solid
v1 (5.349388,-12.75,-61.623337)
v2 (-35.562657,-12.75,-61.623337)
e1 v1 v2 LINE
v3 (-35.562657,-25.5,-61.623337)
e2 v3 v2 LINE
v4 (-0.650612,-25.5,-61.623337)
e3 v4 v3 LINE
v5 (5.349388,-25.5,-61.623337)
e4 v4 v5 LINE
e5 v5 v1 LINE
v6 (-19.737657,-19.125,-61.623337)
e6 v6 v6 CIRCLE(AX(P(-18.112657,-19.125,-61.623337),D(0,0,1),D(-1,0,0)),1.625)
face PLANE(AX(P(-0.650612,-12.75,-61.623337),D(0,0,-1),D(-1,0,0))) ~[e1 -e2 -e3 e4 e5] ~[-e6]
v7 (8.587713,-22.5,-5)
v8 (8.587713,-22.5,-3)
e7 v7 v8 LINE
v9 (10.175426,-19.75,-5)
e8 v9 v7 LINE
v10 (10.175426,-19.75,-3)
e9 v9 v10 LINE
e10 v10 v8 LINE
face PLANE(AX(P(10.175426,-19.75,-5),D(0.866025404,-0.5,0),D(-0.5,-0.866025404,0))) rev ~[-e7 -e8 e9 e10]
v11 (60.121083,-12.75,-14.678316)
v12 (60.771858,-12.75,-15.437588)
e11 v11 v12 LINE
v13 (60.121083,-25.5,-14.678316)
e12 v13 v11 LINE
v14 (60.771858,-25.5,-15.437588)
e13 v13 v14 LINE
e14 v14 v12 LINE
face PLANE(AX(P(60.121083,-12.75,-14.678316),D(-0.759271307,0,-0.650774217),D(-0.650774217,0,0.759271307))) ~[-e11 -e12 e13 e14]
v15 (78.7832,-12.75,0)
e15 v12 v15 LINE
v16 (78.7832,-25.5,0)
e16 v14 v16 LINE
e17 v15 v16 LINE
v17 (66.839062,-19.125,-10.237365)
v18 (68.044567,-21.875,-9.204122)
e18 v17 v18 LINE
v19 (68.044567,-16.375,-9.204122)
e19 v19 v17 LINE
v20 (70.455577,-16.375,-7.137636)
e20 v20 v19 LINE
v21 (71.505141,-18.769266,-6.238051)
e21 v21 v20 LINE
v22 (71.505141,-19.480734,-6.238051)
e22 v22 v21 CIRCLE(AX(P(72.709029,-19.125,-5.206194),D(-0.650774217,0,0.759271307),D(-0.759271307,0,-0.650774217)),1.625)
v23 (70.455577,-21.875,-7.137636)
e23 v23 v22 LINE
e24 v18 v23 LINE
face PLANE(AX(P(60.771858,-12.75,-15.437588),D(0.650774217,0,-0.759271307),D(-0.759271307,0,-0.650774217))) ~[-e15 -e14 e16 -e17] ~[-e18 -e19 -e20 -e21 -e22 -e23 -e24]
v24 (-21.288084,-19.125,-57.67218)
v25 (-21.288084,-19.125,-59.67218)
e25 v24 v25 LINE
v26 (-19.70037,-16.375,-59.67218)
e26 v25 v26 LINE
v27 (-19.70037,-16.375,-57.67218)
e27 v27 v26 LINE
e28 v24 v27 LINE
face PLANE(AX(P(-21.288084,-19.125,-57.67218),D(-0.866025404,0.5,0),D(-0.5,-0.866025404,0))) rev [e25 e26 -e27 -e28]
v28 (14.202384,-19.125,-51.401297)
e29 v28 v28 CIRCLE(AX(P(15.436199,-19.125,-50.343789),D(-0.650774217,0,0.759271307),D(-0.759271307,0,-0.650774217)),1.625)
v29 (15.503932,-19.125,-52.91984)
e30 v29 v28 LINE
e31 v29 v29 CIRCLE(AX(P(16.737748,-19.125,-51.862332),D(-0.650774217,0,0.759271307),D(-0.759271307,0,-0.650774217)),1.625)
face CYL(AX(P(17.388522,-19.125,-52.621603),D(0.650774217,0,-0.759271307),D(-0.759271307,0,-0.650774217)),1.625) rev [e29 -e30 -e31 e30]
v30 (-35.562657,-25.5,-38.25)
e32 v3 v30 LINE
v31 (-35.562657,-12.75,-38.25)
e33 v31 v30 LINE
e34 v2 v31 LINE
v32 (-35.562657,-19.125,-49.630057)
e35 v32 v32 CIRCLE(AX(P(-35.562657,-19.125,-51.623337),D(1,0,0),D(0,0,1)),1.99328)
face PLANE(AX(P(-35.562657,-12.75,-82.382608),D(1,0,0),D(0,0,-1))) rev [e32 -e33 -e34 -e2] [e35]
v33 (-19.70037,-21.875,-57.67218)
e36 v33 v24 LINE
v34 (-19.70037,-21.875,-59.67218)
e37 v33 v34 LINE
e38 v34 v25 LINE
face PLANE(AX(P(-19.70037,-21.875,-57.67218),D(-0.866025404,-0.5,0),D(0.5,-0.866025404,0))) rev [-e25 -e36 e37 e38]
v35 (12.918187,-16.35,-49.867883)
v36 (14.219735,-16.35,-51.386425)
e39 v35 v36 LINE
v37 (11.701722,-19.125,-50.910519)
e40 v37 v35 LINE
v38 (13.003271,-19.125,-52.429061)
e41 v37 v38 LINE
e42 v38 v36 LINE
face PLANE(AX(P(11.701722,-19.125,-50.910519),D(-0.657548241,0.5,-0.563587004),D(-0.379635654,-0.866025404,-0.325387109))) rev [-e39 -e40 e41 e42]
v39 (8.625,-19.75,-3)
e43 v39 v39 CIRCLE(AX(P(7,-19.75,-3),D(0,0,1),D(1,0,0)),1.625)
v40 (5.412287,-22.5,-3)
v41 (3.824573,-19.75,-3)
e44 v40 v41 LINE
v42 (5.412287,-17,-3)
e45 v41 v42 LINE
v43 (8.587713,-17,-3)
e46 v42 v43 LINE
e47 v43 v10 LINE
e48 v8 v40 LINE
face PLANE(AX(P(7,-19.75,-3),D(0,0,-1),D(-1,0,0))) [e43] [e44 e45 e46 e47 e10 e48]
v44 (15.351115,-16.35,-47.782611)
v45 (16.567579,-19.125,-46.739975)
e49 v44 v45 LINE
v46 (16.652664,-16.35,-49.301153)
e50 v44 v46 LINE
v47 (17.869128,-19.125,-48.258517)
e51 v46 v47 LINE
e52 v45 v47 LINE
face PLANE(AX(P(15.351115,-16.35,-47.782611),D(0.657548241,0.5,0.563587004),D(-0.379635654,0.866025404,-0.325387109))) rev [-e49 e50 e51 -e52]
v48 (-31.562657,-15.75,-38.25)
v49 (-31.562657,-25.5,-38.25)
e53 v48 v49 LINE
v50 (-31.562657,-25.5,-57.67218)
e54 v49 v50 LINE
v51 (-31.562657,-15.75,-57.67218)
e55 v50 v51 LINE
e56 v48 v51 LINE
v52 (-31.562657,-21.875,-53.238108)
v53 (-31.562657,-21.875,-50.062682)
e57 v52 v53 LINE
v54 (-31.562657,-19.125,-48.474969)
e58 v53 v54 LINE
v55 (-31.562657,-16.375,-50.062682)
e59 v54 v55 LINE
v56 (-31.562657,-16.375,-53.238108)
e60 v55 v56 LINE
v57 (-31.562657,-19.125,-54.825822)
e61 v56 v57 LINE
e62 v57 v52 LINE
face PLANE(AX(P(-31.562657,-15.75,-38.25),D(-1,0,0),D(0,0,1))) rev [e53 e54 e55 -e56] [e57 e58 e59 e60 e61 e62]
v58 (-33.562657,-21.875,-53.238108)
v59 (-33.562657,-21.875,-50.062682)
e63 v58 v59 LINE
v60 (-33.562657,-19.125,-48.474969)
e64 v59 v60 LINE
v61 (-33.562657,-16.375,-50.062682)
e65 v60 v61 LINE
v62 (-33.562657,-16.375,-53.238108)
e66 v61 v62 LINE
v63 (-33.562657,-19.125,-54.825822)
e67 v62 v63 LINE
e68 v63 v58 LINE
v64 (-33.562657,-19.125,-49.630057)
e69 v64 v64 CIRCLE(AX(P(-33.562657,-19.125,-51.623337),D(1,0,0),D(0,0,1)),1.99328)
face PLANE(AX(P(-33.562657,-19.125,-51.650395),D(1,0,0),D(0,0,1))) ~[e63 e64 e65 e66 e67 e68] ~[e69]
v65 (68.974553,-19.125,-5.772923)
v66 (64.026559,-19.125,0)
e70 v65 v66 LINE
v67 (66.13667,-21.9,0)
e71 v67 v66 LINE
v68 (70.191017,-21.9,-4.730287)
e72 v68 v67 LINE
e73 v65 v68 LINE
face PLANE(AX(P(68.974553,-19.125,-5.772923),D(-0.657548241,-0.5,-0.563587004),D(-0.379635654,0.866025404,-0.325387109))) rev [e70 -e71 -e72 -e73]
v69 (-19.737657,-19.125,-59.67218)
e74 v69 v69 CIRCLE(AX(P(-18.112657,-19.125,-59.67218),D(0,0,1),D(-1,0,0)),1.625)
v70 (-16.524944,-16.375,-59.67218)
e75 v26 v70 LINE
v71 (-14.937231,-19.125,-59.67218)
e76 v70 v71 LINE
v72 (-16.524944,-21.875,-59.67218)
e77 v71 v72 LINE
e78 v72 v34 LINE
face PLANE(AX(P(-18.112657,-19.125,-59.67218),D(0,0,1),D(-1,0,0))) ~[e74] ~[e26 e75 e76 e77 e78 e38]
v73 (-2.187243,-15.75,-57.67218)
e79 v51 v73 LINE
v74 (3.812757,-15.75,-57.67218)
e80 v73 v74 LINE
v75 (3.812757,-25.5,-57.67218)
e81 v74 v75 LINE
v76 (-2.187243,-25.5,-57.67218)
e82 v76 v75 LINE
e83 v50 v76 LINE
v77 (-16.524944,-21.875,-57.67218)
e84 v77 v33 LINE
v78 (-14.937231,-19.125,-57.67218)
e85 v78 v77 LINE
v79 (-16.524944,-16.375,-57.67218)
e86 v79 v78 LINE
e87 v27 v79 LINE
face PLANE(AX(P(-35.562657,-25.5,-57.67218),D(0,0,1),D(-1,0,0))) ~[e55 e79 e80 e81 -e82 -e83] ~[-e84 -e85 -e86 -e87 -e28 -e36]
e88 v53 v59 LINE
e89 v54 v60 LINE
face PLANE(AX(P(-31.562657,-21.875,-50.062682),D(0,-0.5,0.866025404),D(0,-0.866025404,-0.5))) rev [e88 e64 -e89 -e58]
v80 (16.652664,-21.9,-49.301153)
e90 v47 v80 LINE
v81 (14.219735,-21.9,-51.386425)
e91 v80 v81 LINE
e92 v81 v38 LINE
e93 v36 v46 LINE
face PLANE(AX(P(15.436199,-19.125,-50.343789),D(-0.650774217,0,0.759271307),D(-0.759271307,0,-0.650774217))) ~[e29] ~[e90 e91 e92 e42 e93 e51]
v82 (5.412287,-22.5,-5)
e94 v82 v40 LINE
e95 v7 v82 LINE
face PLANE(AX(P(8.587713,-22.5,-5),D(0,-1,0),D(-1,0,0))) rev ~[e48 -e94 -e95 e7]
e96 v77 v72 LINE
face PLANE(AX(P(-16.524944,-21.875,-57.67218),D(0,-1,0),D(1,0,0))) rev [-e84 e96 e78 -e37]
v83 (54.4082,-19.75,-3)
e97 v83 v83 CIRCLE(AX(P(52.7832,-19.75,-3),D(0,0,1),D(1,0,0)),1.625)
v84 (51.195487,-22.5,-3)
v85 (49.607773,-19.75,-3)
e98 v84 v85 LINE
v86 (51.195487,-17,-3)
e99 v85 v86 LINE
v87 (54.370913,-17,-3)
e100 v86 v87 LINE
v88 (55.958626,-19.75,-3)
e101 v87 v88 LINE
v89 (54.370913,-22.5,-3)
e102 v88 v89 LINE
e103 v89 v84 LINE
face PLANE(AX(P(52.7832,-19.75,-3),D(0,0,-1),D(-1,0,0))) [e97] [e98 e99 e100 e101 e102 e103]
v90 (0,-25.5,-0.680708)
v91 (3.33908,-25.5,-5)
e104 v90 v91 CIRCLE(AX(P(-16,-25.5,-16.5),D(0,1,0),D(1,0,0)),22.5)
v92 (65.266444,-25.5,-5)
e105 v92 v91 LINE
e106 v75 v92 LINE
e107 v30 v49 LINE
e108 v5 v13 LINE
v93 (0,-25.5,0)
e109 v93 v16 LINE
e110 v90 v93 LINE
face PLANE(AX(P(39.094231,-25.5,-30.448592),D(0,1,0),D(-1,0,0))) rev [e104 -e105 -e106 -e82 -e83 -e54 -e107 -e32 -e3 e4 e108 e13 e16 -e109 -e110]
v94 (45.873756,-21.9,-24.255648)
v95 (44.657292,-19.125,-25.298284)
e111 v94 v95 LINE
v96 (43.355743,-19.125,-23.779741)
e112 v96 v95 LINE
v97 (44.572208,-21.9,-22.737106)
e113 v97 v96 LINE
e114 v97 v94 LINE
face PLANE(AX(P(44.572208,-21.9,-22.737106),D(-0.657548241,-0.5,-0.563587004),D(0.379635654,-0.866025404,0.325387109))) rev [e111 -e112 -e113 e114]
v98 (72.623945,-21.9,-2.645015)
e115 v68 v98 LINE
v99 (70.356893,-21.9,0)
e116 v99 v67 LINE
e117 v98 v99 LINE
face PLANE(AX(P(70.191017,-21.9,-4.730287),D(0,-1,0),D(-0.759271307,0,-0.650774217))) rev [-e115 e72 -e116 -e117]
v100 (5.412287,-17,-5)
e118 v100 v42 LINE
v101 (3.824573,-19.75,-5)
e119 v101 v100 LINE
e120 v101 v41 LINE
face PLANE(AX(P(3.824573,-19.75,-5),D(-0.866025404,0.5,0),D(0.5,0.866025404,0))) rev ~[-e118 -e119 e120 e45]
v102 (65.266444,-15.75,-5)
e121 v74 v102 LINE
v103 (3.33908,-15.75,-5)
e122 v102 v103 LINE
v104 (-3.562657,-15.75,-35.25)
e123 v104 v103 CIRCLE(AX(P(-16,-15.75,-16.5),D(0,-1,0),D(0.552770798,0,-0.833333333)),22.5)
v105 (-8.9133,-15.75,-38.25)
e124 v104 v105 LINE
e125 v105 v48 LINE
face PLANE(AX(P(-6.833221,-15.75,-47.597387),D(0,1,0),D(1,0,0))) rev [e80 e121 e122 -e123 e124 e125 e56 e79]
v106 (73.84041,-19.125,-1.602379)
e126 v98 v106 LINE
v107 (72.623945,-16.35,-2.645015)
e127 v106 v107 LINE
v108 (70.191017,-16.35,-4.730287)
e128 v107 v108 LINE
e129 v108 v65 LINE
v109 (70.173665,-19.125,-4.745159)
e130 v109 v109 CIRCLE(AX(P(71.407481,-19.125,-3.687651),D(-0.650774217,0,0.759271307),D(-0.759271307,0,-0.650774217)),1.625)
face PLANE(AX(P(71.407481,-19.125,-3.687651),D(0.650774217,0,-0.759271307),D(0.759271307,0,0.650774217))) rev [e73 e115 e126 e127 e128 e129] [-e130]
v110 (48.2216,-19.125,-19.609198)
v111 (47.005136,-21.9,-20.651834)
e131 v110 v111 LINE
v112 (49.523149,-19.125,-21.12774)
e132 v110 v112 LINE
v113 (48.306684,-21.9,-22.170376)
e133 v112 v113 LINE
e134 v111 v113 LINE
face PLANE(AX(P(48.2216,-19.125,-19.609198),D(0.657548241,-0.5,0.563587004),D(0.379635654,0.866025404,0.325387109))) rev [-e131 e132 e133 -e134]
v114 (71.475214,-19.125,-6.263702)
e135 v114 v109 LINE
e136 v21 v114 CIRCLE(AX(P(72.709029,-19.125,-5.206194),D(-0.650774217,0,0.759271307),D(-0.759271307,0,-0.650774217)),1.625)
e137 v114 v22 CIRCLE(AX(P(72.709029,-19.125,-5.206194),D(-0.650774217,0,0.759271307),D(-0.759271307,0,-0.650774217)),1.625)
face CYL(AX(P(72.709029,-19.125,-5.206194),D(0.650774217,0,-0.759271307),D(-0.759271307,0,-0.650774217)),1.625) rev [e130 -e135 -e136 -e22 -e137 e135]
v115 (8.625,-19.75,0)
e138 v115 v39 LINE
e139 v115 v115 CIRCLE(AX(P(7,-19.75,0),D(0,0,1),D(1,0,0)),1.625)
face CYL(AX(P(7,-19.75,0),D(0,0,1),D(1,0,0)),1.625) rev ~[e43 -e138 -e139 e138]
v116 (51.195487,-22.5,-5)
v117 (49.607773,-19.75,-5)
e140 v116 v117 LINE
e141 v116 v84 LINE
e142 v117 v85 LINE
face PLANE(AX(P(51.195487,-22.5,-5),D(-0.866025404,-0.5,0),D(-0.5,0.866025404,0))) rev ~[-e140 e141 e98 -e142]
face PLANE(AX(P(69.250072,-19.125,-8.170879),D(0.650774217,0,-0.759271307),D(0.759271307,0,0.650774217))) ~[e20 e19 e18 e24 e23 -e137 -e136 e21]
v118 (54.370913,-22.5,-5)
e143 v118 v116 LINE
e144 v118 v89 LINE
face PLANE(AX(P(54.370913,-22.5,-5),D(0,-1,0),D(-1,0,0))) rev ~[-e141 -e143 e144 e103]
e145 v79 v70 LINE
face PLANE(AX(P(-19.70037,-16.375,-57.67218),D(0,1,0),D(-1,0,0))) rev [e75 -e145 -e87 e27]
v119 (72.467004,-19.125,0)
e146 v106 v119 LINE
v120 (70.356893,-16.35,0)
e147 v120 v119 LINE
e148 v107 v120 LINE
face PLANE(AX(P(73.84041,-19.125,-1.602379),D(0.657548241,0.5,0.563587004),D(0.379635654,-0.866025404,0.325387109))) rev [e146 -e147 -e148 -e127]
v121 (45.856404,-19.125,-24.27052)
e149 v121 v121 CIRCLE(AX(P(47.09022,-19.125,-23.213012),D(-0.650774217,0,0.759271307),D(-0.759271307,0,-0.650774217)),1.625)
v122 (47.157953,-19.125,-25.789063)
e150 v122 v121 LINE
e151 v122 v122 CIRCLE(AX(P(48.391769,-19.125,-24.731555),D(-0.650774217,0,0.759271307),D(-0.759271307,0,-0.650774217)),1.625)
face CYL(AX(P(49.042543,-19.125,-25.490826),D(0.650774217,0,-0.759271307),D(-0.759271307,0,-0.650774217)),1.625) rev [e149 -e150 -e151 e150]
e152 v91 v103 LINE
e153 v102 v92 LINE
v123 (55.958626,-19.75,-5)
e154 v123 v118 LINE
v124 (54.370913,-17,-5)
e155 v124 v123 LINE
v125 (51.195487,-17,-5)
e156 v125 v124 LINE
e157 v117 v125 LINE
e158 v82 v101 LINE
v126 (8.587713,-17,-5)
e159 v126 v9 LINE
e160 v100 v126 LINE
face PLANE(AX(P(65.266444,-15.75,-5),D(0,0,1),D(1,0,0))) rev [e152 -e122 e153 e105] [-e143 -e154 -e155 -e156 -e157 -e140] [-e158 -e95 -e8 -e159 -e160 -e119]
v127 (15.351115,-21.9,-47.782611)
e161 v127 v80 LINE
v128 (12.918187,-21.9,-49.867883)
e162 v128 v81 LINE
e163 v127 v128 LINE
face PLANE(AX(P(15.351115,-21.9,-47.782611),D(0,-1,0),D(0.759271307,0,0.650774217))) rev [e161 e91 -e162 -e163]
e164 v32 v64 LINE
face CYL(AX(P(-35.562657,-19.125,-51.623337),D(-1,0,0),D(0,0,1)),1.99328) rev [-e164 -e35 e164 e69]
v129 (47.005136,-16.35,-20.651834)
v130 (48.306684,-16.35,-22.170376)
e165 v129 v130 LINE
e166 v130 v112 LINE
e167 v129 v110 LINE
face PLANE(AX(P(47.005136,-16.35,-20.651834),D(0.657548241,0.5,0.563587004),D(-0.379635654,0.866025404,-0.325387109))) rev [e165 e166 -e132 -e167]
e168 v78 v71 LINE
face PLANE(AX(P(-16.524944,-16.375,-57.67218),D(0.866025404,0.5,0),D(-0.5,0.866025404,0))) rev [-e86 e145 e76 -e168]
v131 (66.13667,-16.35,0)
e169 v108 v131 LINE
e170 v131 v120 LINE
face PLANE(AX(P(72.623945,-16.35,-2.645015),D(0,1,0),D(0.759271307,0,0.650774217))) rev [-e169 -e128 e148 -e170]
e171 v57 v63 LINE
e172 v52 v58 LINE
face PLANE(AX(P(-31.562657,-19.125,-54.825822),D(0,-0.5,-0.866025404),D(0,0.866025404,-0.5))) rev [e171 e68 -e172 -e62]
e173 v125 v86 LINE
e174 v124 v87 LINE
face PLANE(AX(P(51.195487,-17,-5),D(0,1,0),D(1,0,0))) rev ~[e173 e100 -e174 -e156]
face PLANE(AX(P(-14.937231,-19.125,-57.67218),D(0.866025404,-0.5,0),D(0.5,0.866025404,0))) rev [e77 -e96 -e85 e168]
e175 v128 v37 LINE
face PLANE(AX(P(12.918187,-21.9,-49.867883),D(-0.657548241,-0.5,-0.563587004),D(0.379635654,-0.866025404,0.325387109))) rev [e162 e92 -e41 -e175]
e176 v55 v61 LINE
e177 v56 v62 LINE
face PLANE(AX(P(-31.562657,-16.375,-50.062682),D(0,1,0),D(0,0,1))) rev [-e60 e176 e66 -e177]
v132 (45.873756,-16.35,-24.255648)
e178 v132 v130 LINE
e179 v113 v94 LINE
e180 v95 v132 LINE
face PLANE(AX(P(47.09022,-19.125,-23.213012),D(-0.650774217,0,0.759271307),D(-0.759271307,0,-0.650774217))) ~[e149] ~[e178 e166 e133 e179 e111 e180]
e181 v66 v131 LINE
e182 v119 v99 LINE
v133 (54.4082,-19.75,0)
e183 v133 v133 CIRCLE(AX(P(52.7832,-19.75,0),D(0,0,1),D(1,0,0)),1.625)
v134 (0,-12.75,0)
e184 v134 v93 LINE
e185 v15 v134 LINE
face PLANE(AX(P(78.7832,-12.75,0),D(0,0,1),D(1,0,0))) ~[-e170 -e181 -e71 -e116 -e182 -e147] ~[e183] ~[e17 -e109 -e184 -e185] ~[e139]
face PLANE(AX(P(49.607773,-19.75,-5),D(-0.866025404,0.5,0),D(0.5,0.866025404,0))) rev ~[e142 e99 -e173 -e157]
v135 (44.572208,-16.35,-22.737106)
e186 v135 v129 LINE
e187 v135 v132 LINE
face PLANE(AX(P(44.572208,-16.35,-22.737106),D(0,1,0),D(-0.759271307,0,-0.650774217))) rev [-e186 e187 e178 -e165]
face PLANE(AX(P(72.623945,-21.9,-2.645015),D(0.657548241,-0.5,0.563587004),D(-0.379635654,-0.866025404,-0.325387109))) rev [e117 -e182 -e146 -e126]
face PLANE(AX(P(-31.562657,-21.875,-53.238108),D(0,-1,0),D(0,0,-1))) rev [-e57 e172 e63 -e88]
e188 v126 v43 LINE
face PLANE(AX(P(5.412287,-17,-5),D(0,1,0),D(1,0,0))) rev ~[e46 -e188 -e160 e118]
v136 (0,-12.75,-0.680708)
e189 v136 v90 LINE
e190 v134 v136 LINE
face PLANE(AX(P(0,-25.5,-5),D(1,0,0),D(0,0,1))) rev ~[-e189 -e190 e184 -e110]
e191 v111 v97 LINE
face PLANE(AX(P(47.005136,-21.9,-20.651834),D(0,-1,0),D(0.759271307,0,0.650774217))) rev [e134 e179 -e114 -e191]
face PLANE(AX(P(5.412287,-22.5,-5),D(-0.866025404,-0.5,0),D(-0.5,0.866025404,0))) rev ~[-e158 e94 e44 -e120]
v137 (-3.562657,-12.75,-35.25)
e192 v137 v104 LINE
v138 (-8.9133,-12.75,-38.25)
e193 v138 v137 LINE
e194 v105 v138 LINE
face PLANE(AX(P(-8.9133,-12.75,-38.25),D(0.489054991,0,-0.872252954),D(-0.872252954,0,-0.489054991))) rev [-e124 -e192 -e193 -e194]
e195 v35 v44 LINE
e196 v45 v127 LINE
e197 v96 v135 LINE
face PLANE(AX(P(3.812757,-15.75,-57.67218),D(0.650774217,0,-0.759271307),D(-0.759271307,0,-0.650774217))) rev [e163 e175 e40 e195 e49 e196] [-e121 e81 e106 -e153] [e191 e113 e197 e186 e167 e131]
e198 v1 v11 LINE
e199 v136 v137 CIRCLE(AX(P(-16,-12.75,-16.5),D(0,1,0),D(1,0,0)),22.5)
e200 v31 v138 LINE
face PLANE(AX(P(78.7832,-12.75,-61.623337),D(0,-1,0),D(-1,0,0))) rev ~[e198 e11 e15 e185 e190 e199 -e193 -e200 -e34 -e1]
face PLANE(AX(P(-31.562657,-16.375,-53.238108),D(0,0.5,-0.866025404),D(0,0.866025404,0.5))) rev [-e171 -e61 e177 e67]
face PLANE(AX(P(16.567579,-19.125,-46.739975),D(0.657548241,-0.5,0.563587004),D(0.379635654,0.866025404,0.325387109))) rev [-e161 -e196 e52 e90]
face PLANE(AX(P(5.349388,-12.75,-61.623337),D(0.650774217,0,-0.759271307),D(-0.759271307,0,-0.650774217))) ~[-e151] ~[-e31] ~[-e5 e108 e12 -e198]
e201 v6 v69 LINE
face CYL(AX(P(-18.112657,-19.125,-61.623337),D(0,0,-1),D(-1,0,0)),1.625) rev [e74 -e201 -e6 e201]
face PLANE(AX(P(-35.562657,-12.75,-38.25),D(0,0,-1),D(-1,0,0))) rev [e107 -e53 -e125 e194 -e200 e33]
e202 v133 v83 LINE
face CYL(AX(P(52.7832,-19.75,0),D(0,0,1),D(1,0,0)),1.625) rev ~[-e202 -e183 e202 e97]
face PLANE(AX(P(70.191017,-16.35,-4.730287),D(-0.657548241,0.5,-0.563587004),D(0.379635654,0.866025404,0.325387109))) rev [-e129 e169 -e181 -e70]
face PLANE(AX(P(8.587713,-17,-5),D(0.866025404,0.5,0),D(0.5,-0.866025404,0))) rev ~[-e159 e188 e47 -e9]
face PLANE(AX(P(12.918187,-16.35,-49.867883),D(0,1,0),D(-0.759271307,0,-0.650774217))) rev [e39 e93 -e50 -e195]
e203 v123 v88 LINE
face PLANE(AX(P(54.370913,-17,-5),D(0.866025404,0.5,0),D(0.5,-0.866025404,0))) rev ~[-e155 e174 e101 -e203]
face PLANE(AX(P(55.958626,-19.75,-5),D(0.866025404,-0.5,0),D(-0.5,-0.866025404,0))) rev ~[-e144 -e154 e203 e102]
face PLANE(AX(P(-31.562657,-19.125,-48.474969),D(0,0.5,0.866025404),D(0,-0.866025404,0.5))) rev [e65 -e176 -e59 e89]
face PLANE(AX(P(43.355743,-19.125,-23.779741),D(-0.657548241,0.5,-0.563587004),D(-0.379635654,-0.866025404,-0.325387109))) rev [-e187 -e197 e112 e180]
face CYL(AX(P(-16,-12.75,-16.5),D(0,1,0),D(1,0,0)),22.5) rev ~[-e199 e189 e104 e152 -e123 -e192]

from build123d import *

# Parameters (mm, degrees)
SALIENTE_EXTRUIR1_DEPTH     = 12.75
CORTAR_EXTRUIR1_REACH       = 31.62
CROQUIS2_R                  = 1.625
CROQUIS3_R                  = 22.5
CORTAR_EXTRUIR2_DEPTH       = 13.75
SALIENTE_EXTRUIR2_DEPTH     = 3
SALIENTE_EXTRUIR3_DEPTH     = 9.75
CROQUIS6_R                  = 1.625
CORTAR_EXTRUIR3_DEPTH       = 10
CORTAR_EXTRUIR4_START       = -2
CORTAR_EXTRUIR4_DEPTH       = 10
CORTAR_EXTRUIR5_START       = -2
CORTAR_EXTRUIR5_DEPTH       = 10
CORTAR_EXTRUIR6_DEPTH       = 2
CORTAR_EXTRUIR7_REACH       = 37.25
CROQUIS10_R                 = 1.625
CORTAR_EXTRUIR8_DEPTH       = 2
CROQUIS12_W                 = 92.508691999
CROQUIS12_H                 = 24.255818813
CORTAR_EXTRUIR9_DEPTH       = 1
CORTAR_EXTRUIR9_DEPTH_BACK  = 36.25
SALIENTE_EXTRUIR4_DEPTH     = 12.75
CORTAR_EXTRUIR10_START      = -9.75
CORTAR_EXTRUIR10_DEPTH      = 9.75
CROQUIS16_W                 = 76.692813467
CROQUIS16_H                 = 12.75
CORTAR_EXTRUIR11_DEPTH      = 1
CROQUIS17_W                 = 40.657498706
CROQUIS17_H                 = 22.934549925
CORTAR_EXTRUIR12_DEPTH      = 1
CORTAR_EXTRUIR12_DEPTH_BACK = 13.75
SALIENTE_EXTRUIR5_REACH     = 14.75
CROQUIS18_W                 = 34.9120451
CROQUIS18_H                 = 3.951156815
CROQUIS20_R                 = 1.625
CORTAR_EXTRUIR14_DEPTH      = 10
CORTAR_EXTRUIR15_DEPTH      = 2
CROQUIS22_R                 = 1.625
CORTAR_EXTRUIR16_DEPTH      = 10
CORTAR_EXTRUIR17_DEPTH      = 2
SALIENTE_EXTRUIR6_DEPTH     = 12.75
CORTAR_EXTRUIR18_DEPTH      = 2
CROQUIS28_R                 = 1.625
SALIENTE_EXTRUIR7_DEPTH     = 1
CORTAR_EXTRUIR19_REACH      = 110.346
CROQUIS29_R                 = 1.993280097
CORTAR_EXTRUIR20_DEPTH      = 2
SALIENTE_EXTRUIR8_DEPTH     = 12.75
SALIENTE_EXTRUIR9_START     = -2.904645
SALIENTE_EXTRUIR9_DEPTH     = 5
SALIENTE_EXTRUIR10_REACH    = 76.413
CORTAR_EXTRUIR21_START      = -9.75
CORTAR_EXTRUIR21_DEPTH      = 9.75
CROQUIS36_R                 = 1.625
CORTAR_EXTRUIR22_DEPTH      = 15
CORTAR_EXTRUIR23_DEPTH      = 2
CORTAR_EXTRUIR24_START      = -2
CORTAR_EXTRUIR24_DEPTH      = 73.413335578
CROQUIS19_W                 = 120.448667976
CROQUIS19_H                 = 32.886651308
CORTAR_EXTRUIR13_DEPTH      = 1
CORTAR_EXTRUIR13_DEPTH_BACK = 62.623336743


with BuildPart() as part:
    # Croquis1 → Saliente-Extruir1 (new body)
    with BuildSketch(Plane(origin=(0, 0, 0), x_dir=(1, 0, 0), z_dir=(0, 1, 0))):
        Polygon((0, 0), (72.78319995, 0), (38.224450787, 29.62043043), (35.621353918, 26.5833452), (60.803074847, 5), (0, 5), align=None)
    extrude(amount=SALIENTE_EXTRUIR1_DEPTH)

    # Croquis2 → Cortar-Extruir1 (cut, up to next)
    with BuildSketch(Plane.XY, mode=Mode.PRIVATE) as cortar_extruir1_sk1:
        with Locations((52.78319995, 5.75)):
            Circle(CROQUIS2_R)
    cortar_extruir1_tool1 = extrude(cortar_extruir1_sk1.sketch, amount=-CORTAR_EXTRUIR1_REACH, mode=Mode.PRIVATE) & part.part
    add(cortar_extruir1_tool1.solids().sort_by_distance((52.7832, 5.75, 0))[0], mode=Mode.SUBTRACT)
    # Croquis2 → Cortar-Extruir1 (cut, up to next)
    with BuildSketch(Plane.XY, mode=Mode.PRIVATE) as cortar_extruir1_sk2:
        with Locations((6.99999995, 5.75)):
            Circle(CROQUIS2_R)
    cortar_extruir1_tool2 = extrude(cortar_extruir1_sk2.sketch, amount=-CORTAR_EXTRUIR1_REACH, mode=Mode.PRIVATE) & part.part
    add(cortar_extruir1_tool2.solids().sort_by_distance((7, 5.75, 0))[0], mode=Mode.SUBTRACT)

    # Croquis3 → Cortar-Extruir2 (cut, through all)
    with BuildSketch(Plane(origin=(0, 12.75, 0), x_dir=(1, 0, 0), z_dir=(0, 1, 0))):
        with Locations((-16, 16.5)):
            Circle(CROQUIS3_R)
    extrude(amount=-CORTAR_EXTRUIR2_DEPTH, mode=Mode.SUBTRACT)

    # Croquis4 → Saliente-Extruir2 (add)
    with BuildSketch(Plane(origin=(0, 12.75, 0), x_dir=(1, 0, 0), z_dir=(0, 1, 0))):
        with BuildLine():
            Line((38.224450787, 29.62043043), (31.656319269, 35.25))
            Line((31.656319269, 35.25), (-3.562657036, 35.25))
            ThreePointArc((-3.562657036, 35.25), (5.936291456, 21.504909307), (3.339079606, 5))
            Line((3.339079606, 5), (60.803074847, 5))
            Line((60.803074847, 5), (35.621353918, 26.5833452))
            Line((35.621353918, 26.5833452), (38.224450787, 29.62043043))
        make_face()
    extrude(amount=-SALIENTE_EXTRUIR2_DEPTH)

    # Croquis5 → Saliente-Extruir3 (add)
    with BuildSketch(Plane.XZ.offset(-9.75)):
        with BuildLine():
            Line((-3.562657036, -35.25), (31.656319269, -35.25))
            Line((31.656319269, -35.25), (38.224450787, -29.62043043))
            Line((38.224450787, -29.62043043), (35.621353918, -26.5833452))
            Line((35.621353918, -26.5833452), (30.17667434, -31.25))
            Line((30.17667434, -31.25), (0.990806338, -31.25))
            ThreePointArc((0.990806338, -31.25), (-1.15062315, -33.404023402), (-3.562657036, -35.25))
        make_face()
    extrude(amount=SALIENTE_EXTRUIR3_DEPTH)

    # Croquis6 → Cortar-Extruir3 (cut)
    with BuildSketch(Plane(origin=(30.824200619, 0, -35.963211942), x_dir=(-0.759271307, 0, -0.650774217), z_dir=(0.650774217, 0, -0.759271307))):
        with Locations((-47.262195378, 6.375)):
            Circle(CROQUIS6_R)
        with Locations((-16.095943758, 6.375)):
            Circle(CROQUIS6_R)
    extrude(amount=-CORTAR_EXTRUIR3_DEPTH, mode=Mode.SUBTRACT)

    # Croquis7 → Cortar-Extruir4 (cut)
    with BuildSketch(Plane(origin=(28.22110375, 0, -32.926126712), x_dir=(0.759271307, 0, 0.650774217), z_dir=(-0.650774217, 0, 0.759271307)).offset(CORTAR_EXTRUIR4_START)):
        Polygon((48.849908618, 3.625), (50.437621859, 6.375), (48.849908618, 9.125), (45.674482138, 9.125), (44.086768898, 6.375), (45.674482138, 3.625), align=None)
    extrude(amount=CORTAR_EXTRUIR4_DEPTH, mode=Mode.SUBTRACT)

    # Croquis8 → Cortar-Extruir5 (cut)
    with BuildSketch(Plane(origin=(28.22110375, 0, -32.926126712), x_dir=(0.759271307, 0, 0.650774217), z_dir=(-0.650774217, 0, 0.759271307)).offset(CORTAR_EXTRUIR5_START)):
        Polygon((17.683656999, 3.625), (19.271370239, 6.375), (17.683656999, 9.125), (14.508230518, 9.125), (12.920517278, 6.375), (14.508230518, 3.625), align=None)
    extrude(amount=CORTAR_EXTRUIR5_DEPTH, mode=Mode.SUBTRACT)

    # Croquis9 → Cortar-Extruir6 (cut)
    with BuildSketch(Plane(origin=(0, 0, -5), x_dir=(-1, 0, 0), z_dir=(0, 0, -1))):
        Polygon((-5.41228671, 3), (-3.824573469, 5.75), (-5.41228671, 8.5), (-8.58771319, 8.5), (-10.175426431, 5.75), (-8.58771319, 3), align=None)
        Polygon((-51.19548671, 3), (-49.607773469, 5.75), (-51.19548671, 8.5), (-54.37091319, 8.5), (-55.958626431, 5.75), (-54.37091319, 3), align=None)
    extrude(amount=-CORTAR_EXTRUIR6_DEPTH, mode=Mode.SUBTRACT)

    # Croquis10 → Cortar-Extruir7 (cut, up to next)
    with BuildSketch(Plane(origin=(0, 0, -35.25), x_dir=(-1, 0, 0), z_dir=(0, 0, -1)), mode=Mode.PRIVATE) as cortar_extruir7_sk1:
        with Locations((-21.656319269, 6.375)):
            Circle(CROQUIS10_R)
    cortar_extruir7_tool1 = extrude(cortar_extruir7_sk1.sketch, amount=-CORTAR_EXTRUIR7_REACH, mode=Mode.PRIVATE) & part.part
    add(cortar_extruir7_tool1.solids().sort_by_distance((21.656319, 6.375, -35.25))[0], mode=Mode.SUBTRACT)

    # Croquis11 → Cortar-Extruir8 (cut)
    with BuildSketch(Plane.XY.offset(-31.25)):
        Polygon((23.24403251, 3.625), (24.83174575, 6.375), (23.24403251, 9.125), (20.068606029, 9.125), (18.480892789, 6.375), (20.068606029, 3.625), align=None)
    extrude(amount=-CORTAR_EXTRUIR8_DEPTH, mode=Mode.SUBTRACT)

    # Simetría1: part across plane


with BuildPart() as part_1:
    add(part.part)
    add(part.part.mirror(Plane.ZX))

    # Croquis12 → Cortar-Extruir9 (cut, two sides)
    with BuildSketch(Plane(origin=(0, 0, -35.25), x_dir=(-1, 0, 0), z_dir=(0, 0, -1))) as cortar_extruir9_sk:
        with Locations((-33.077560565, 12.127909407)):
            Rectangle(CROQUIS12_W, CROQUIS12_H)
    extrude(amount=CORTAR_EXTRUIR9_DEPTH, mode=Mode.SUBTRACT)
    extrude(cortar_extruir9_sk.sketch, amount=-CORTAR_EXTRUIR9_DEPTH_BACK, mode=Mode.SUBTRACT)

    # Croquis13 → Saliente-Extruir4 (add)
    with BuildSketch(Plane.XZ.offset(12.75)):
        Polygon((-35.562657036, -82.38260805), (-35.562657036, -38.25), (-8.913300435, -38.25), (-3.562657036, -35.25), (31.656319269, -35.25), (0.000162281, -62.38260805), align=None)
    extrude(amount=-SALIENTE_EXTRUIR4_DEPTH)

    # Croquis14 → Cortar-Extruir10 (cut)
    with BuildSketch(Plane(origin=(0, 0, 0), x_dir=(1, 0, 0), z_dir=(0, 1, 0)).offset(CORTAR_EXTRUIR10_START)):
        Polygon((30.17667434, 31.25), (0.990806338, 31.25), (-31.562657036, 38.25), (-31.562657036, 75.543902968), (-2.303881466, 59.089203295), align=None)
    extrude(amount=CORTAR_EXTRUIR10_DEPTH, mode=Mode.SUBTRACT)

    # Croquis16 → Cortar-Extruir11 (cut)
    with BuildSketch(Plane(origin=(30.824200619, 0, -35.963211942), x_dir=(-0.759271307, 0, -0.650774217), z_dir=(0.650774217, 0, -0.759271307))):
        with Locations((2.250462975, -6.375)):
            Rectangle(CROQUIS16_W, CROQUIS16_H)
    extrude(amount=-CORTAR_EXTRUIR11_DEPTH, mode=Mode.SUBTRACT)

    # Croquis17 → Cortar-Extruir12 (cut, two sides)
    with BuildSketch(Plane.XZ.offset(12.75)) as cortar_extruir12_sk:
        with Locations((-20.328587072, -73.090611706)):
            Rectangle(CROQUIS17_W, CROQUIS17_H)
    extrude(amount=CORTAR_EXTRUIR12_DEPTH, mode=Mode.SUBTRACT)
    extrude(cortar_extruir12_sk.sketch, amount=-CORTAR_EXTRUIR12_DEPTH_BACK, mode=Mode.SUBTRACT)

    # Croquis18 → Saliente-Extruir5 (add, up to next)
    with BuildSketch(Plane(origin=(0, 0, 0), x_dir=(1, 0, 0), z_dir=(0, 1, 0)), mode=Mode.PRIVATE) as saliente_extruir5_sk1:
        with Locations((-18.106634486, 59.647758336)):
            Rectangle(CROQUIS18_W, CROQUIS18_H)
    saliente_extruir5_tool1 = extrude(saliente_extruir5_sk1.sketch, amount=-SALIENTE_EXTRUIR5_REACH, mode=Mode.PRIVATE) - part_1.part
    add(saliente_extruir5_tool1.solids().sort_by_distance((-18.106634, 0, -59.647758))[0])

    # Croquis20 → Cortar-Extruir14 (cut)
    with BuildSketch(Plane(origin=(30.173426402, 0, -35.203940634), x_dir=(-0.759271307, 0, -0.650774217), z_dir=(0.650774217, 0, -0.759271307))):
        with Locations((25.596869709, -6.375)):
            Circle(CROQUIS20_R)
        with Locations((-16.095943758, -6.375)):
            Circle(CROQUIS20_R)
    extrude(amount=-CORTAR_EXTRUIR14_DEPTH, mode=Mode.SUBTRACT)

    # Croquis21 → Cortar-Extruir15 (cut)
    with BuildSketch(Plane(origin=(28.22110375, 0, -32.926126712), x_dir=(0.759271307, 0, 0.650774217), z_dir=(-0.650774217, 0, 0.759271307))):
        Polygon((-24.009156469, -9.125), (-22.421443229, -6.375), (-24.009156469, -3.625), (-27.184582949, -3.625), (-28.77229619, -6.375), (-27.184582949, -9.125), align=None)
    extrude(amount=-CORTAR_EXTRUIR15_DEPTH, mode=Mode.SUBTRACT)

    # Croquis22 → Cortar-Extruir16 (cut)
    with BuildSketch(Plane(origin=(0, 0, -61.623336743), x_dir=(-1, 0, 0), z_dir=(0, 0, -1))):
        with Locations((18.112657036, -6.375)):
            Circle(CROQUIS22_R)
    extrude(amount=-CORTAR_EXTRUIR16_DEPTH, mode=Mode.SUBTRACT)

    # Croquis23 → Cortar-Extruir17 (cut)
    with BuildSketch(Plane.XY.offset(-57.672179928)):
        Polygon((-16.524943796, -9.125), (-14.937230556, -6.375), (-16.524943796, -3.625), (-19.700370276, -3.625), (-21.288083517, -6.375), (-19.700370276, -9.125), align=None)
    extrude(amount=-CORTAR_EXTRUIR17_DEPTH, mode=Mode.SUBTRACT)

    # Croquis26 → Saliente-Extruir6 (add)
    with BuildSketch(Plane(origin=(0, 0, 0), x_dir=(1, 0, 0), z_dir=(0, 1, 0))):
        Polygon((60.803074847, 5), (-2.287792345, 59.07541325), (-2.938566562, 58.316141943), (60.15230063, 4.240728693), align=None)
    extrude(amount=-SALIENTE_EXTRUIR6_DEPTH)

    # Croquis27 → Cortar-Extruir18 (cut)
    with BuildSketch(Plane(origin=(27.570329533, 0, -32.166855405), x_dir=(0.759271307, 0, 0.650774217), z_dir=(-0.650774217, 0, 0.759271307))):
        Polygon((-22.421443229, -6.375), (-24.009156469, -3.625), (-27.184582949, -3.625), (-28.77229619, -6.375), (-27.184582949, -9.125), (-24.009156469, -9.125), align=None)
        Polygon((19.271370239, -6.375), (17.683656999, -3.625), (14.508230518, -3.625), (12.920517278, -6.375), (14.508230518, -9.125), (17.683656999, -9.125), align=None)
    extrude(amount=-CORTAR_EXTRUIR18_DEPTH, mode=Mode.SUBTRACT)

    # Croquis28 → Saliente-Extruir7 (add)
    with BuildSketch(Plane(origin=(29.522652185, 0, -34.444669327), x_dir=(0.759271307, 0, 0.650774217), z_dir=(-0.650774217, 0, 0.759271307))):
        Polygon((-24.009156469, -3.625), (-27.184582949, -3.625), (-28.77229619, -6.375), (-27.184582949, -9.125), (-24.009156469, -9.125), (-22.421443229, -6.375), align=None)
        with Locations((-25.596869709, -6.375)):
            Circle(CROQUIS28_R, mode=Mode.SUBTRACT)
        Polygon((17.683656999, -3.625), (14.508230518, -3.625), (12.920517278, -6.375), (14.508230518, -9.125), (17.683656999, -9.125), (19.271370239, -6.375), align=None)
        with Locations((16.095943758, -6.375)):
            Circle(CROQUIS28_R, mode=Mode.SUBTRACT)
    extrude(amount=SALIENTE_EXTRUIR7_DEPTH)

    # Croquis29 → Cortar-Extruir19 (cut, up to next)
    with BuildSketch(Plane.ZY.offset(35.562657036), mode=Mode.PRIVATE) as cortar_extruir19_sk1:
        with Locations((-51.623336743, -6.375)):
            Circle(CROQUIS29_R)
    cortar_extruir19_tool1 = extrude(cortar_extruir19_sk1.sketch, amount=-CORTAR_EXTRUIR19_REACH, mode=Mode.PRIVATE) & part_1.part
    add(cortar_extruir19_tool1.solids().sort_by_distance((-35.562657, -6.375, -51.623337))[0], mode=Mode.SUBTRACT)

    # Croquis30 → Cortar-Extruir20 (cut)
    with BuildSketch(Plane(origin=(-31.562657036, 0, 0), x_dir=(0, 0, -1), z_dir=(1, 0, 0))):
        Polygon((53.238108484, -9.125), (54.825821725, -6.375), (53.238108484, -3.625), (50.062682004, -3.625), (48.474968763, -6.375), (50.062682004, -9.125), align=None)
    extrude(amount=-CORTAR_EXTRUIR20_DEPTH, mode=Mode.SUBTRACT)

    # Croquis32 → Saliente-Extruir8 (add)
    with BuildSketch(Plane.XZ.offset(12.75)):
        Polygon((-0.650611936, -61.623336743), (5.349388064, -61.623336743), (60.1210833, -14.678316233), (60.771857517, -15.43758754), (78.78319995, 0), (72.78319995, 0), (58.230815026, -12.472902396), (57.580040809, -11.713631088), align=None)
    extrude(amount=-SALIENTE_EXTRUIR8_DEPTH)

    # Croquis33 → Saliente-Extruir9 (add)
    with BuildSketch(Plane(origin=(32.714468893, 0, -38.168625779), x_dir=(-0.759271307, 0, -0.650774217), z_dir=(0.650774217, 0, -0.759271307)).offset(SALIENTE_EXTRUIR9_START)):
        Polygon((-14.508230518, -3.625), (-17.683656999, -3.625), (-19.271370239, -6.375), (-17.683656999, -9.125), (-14.508230518, -9.125), (-12.920517278, -6.375), align=None)
        Polygon((27.184582949, -3.625), (24.009156469, -3.625), (22.421443229, -6.375), (24.009156469, -9.125), (27.184582949, -9.125), (28.77229619, -6.375), align=None)
    extrude(amount=-SALIENTE_EXTRUIR9_DEPTH)

    # Saliente-Extruir10: up to this face of the body (flat: up to its plane)
    saliente_extruir10_end = Plane(part_1.part.faces().sort_by_distance((38.729797406, -6.385876659, 0))[0])
    # Croquis34 → Saliente-Extruir10 (add, up to the picked face)
    with BuildSketch(Plane(origin=(33.36524311, 0, -38.927897086), x_dir=(-0.759271307, 0, -0.650774217), z_dir=(0.650774217, 0, -0.759271307)), mode=Mode.PRIVATE) as saliente_extruir10_sk1:
        Polygon((-45.674482138, -3.625), (-48.849908618, -3.625), (-50.437621859, -6.375), (-48.849908618, -9.125), (-45.674482138, -9.125), (-44.086768898, -6.375), align=None)
    saliente_extruir10_tool1 = split(extrude(saliente_extruir10_sk1.sketch, amount=-SALIENTE_EXTRUIR10_REACH, mode=Mode.PRIVATE), bisect_by=saliente_extruir10_end, keep=Keep.BOTH, mode=Mode.PRIVATE)
    add(saliente_extruir10_tool1.solids().sort_by_distance((69.250072, -6.375, -8.170879))[0])

    # Croquis35 → Cortar-Extruir21 (cut)
    with BuildSketch(Plane(origin=(0, 0, 0), x_dir=(1, 0, 0), z_dir=(0, 1, 0)).offset(CORTAR_EXTRUIR21_START)):
        Polygon((-2.187243188, 57.672179928), (3.812756812, 57.672179928), (65.266443595, 5), (59.266443595, 5), align=None)
    extrude(amount=CORTAR_EXTRUIR21_DEPTH, mode=Mode.SUBTRACT)

    # Croquis36 → Cortar-Extruir22 (cut)
    with BuildSketch(Plane(origin=(33.36524311, 0, -38.927897086), x_dir=(-0.759271307, 0, -0.650774217), z_dir=(0.650774217, 0, -0.759271307))):
        with Locations((-51.817823222, -6.375)):
            Circle(CROQUIS36_R)
        with Locations((-20.647823222, -6.375)):
            Circle(CROQUIS36_R)
        with Locations((21.042176778, -6.375)):
            Circle(CROQUIS36_R)
    extrude(amount=-CORTAR_EXTRUIR22_DEPTH, mode=Mode.SUBTRACT)

    # Croquis38 → Cortar-Extruir23 (cut)
    with BuildSketch(Plane(origin=(30.111372024, 0, -35.131540549), x_dir=(0.759271307, 0, 0.650774217), z_dir=(-0.650774217, 0, 0.759271307))):
        Polygon((-19.440029781, -9.15), (-17.837882784, -6.375), (-19.440029781, -3.6), (-22.644323775, -3.6), (-24.246470772, -6.375), (-22.644323775, -9.15), align=None)
        Polygon((22.249970219, -9.15), (23.852117216, -6.375), (22.249970219, -3.6), (19.045676225, -3.6), (17.443529228, -6.375), (19.045676225, -9.15), align=None)
    extrude(amount=-CORTAR_EXTRUIR23_DEPTH, mode=Mode.SUBTRACT)

    # Croquis39 → Cortar-Extruir24 (cut, through all)
    with BuildSketch(Plane(origin=(33.36524311, 0, -38.927897086), x_dir=(-0.759271307, 0, -0.650774217), z_dir=(0.650774217, 0, -0.759271307)).offset(CORTAR_EXTRUIR24_START)):
        Polygon((-50.215676225, -9.15), (-48.613529228, -6.375), (-50.215676225, -3.6), (-53.419970219, -3.6), (-55.022117216, -6.375), (-53.419970219, -9.15), align=None)
    extrude(amount=-CORTAR_EXTRUIR24_DEPTH, mode=Mode.SUBTRACT)

    # Simetría2: part across face


with BuildPart() as part_2:
    add(part_1.part)
    add(part_1.part.mirror(Plane(origin=(15.909867024, -12.75, -29.216307939), x_dir=(0, 0, 1), z_dir=(0, -1, 0))))

    # Croquis19 → Cortar-Extruir13 (cut, two sides)
    with BuildSketch(Plane(origin=(0, 0, -61.623336743), x_dir=(-1, 0, 0), z_dir=(0, 0, -1))) as cortar_extruir13_sk:
        with Locations((-18.558865962, 3.693325654)):
            Rectangle(CROQUIS19_W, CROQUIS19_H)
    extrude(amount=CORTAR_EXTRUIR13_DEPTH, mode=Mode.SUBTRACT)
    extrude(cortar_extruir13_sk.sketch, amount=-CORTAR_EXTRUIR13_DEPTH_BACK, mode=Mode.SUBTRACT)


solid = part_2.part
